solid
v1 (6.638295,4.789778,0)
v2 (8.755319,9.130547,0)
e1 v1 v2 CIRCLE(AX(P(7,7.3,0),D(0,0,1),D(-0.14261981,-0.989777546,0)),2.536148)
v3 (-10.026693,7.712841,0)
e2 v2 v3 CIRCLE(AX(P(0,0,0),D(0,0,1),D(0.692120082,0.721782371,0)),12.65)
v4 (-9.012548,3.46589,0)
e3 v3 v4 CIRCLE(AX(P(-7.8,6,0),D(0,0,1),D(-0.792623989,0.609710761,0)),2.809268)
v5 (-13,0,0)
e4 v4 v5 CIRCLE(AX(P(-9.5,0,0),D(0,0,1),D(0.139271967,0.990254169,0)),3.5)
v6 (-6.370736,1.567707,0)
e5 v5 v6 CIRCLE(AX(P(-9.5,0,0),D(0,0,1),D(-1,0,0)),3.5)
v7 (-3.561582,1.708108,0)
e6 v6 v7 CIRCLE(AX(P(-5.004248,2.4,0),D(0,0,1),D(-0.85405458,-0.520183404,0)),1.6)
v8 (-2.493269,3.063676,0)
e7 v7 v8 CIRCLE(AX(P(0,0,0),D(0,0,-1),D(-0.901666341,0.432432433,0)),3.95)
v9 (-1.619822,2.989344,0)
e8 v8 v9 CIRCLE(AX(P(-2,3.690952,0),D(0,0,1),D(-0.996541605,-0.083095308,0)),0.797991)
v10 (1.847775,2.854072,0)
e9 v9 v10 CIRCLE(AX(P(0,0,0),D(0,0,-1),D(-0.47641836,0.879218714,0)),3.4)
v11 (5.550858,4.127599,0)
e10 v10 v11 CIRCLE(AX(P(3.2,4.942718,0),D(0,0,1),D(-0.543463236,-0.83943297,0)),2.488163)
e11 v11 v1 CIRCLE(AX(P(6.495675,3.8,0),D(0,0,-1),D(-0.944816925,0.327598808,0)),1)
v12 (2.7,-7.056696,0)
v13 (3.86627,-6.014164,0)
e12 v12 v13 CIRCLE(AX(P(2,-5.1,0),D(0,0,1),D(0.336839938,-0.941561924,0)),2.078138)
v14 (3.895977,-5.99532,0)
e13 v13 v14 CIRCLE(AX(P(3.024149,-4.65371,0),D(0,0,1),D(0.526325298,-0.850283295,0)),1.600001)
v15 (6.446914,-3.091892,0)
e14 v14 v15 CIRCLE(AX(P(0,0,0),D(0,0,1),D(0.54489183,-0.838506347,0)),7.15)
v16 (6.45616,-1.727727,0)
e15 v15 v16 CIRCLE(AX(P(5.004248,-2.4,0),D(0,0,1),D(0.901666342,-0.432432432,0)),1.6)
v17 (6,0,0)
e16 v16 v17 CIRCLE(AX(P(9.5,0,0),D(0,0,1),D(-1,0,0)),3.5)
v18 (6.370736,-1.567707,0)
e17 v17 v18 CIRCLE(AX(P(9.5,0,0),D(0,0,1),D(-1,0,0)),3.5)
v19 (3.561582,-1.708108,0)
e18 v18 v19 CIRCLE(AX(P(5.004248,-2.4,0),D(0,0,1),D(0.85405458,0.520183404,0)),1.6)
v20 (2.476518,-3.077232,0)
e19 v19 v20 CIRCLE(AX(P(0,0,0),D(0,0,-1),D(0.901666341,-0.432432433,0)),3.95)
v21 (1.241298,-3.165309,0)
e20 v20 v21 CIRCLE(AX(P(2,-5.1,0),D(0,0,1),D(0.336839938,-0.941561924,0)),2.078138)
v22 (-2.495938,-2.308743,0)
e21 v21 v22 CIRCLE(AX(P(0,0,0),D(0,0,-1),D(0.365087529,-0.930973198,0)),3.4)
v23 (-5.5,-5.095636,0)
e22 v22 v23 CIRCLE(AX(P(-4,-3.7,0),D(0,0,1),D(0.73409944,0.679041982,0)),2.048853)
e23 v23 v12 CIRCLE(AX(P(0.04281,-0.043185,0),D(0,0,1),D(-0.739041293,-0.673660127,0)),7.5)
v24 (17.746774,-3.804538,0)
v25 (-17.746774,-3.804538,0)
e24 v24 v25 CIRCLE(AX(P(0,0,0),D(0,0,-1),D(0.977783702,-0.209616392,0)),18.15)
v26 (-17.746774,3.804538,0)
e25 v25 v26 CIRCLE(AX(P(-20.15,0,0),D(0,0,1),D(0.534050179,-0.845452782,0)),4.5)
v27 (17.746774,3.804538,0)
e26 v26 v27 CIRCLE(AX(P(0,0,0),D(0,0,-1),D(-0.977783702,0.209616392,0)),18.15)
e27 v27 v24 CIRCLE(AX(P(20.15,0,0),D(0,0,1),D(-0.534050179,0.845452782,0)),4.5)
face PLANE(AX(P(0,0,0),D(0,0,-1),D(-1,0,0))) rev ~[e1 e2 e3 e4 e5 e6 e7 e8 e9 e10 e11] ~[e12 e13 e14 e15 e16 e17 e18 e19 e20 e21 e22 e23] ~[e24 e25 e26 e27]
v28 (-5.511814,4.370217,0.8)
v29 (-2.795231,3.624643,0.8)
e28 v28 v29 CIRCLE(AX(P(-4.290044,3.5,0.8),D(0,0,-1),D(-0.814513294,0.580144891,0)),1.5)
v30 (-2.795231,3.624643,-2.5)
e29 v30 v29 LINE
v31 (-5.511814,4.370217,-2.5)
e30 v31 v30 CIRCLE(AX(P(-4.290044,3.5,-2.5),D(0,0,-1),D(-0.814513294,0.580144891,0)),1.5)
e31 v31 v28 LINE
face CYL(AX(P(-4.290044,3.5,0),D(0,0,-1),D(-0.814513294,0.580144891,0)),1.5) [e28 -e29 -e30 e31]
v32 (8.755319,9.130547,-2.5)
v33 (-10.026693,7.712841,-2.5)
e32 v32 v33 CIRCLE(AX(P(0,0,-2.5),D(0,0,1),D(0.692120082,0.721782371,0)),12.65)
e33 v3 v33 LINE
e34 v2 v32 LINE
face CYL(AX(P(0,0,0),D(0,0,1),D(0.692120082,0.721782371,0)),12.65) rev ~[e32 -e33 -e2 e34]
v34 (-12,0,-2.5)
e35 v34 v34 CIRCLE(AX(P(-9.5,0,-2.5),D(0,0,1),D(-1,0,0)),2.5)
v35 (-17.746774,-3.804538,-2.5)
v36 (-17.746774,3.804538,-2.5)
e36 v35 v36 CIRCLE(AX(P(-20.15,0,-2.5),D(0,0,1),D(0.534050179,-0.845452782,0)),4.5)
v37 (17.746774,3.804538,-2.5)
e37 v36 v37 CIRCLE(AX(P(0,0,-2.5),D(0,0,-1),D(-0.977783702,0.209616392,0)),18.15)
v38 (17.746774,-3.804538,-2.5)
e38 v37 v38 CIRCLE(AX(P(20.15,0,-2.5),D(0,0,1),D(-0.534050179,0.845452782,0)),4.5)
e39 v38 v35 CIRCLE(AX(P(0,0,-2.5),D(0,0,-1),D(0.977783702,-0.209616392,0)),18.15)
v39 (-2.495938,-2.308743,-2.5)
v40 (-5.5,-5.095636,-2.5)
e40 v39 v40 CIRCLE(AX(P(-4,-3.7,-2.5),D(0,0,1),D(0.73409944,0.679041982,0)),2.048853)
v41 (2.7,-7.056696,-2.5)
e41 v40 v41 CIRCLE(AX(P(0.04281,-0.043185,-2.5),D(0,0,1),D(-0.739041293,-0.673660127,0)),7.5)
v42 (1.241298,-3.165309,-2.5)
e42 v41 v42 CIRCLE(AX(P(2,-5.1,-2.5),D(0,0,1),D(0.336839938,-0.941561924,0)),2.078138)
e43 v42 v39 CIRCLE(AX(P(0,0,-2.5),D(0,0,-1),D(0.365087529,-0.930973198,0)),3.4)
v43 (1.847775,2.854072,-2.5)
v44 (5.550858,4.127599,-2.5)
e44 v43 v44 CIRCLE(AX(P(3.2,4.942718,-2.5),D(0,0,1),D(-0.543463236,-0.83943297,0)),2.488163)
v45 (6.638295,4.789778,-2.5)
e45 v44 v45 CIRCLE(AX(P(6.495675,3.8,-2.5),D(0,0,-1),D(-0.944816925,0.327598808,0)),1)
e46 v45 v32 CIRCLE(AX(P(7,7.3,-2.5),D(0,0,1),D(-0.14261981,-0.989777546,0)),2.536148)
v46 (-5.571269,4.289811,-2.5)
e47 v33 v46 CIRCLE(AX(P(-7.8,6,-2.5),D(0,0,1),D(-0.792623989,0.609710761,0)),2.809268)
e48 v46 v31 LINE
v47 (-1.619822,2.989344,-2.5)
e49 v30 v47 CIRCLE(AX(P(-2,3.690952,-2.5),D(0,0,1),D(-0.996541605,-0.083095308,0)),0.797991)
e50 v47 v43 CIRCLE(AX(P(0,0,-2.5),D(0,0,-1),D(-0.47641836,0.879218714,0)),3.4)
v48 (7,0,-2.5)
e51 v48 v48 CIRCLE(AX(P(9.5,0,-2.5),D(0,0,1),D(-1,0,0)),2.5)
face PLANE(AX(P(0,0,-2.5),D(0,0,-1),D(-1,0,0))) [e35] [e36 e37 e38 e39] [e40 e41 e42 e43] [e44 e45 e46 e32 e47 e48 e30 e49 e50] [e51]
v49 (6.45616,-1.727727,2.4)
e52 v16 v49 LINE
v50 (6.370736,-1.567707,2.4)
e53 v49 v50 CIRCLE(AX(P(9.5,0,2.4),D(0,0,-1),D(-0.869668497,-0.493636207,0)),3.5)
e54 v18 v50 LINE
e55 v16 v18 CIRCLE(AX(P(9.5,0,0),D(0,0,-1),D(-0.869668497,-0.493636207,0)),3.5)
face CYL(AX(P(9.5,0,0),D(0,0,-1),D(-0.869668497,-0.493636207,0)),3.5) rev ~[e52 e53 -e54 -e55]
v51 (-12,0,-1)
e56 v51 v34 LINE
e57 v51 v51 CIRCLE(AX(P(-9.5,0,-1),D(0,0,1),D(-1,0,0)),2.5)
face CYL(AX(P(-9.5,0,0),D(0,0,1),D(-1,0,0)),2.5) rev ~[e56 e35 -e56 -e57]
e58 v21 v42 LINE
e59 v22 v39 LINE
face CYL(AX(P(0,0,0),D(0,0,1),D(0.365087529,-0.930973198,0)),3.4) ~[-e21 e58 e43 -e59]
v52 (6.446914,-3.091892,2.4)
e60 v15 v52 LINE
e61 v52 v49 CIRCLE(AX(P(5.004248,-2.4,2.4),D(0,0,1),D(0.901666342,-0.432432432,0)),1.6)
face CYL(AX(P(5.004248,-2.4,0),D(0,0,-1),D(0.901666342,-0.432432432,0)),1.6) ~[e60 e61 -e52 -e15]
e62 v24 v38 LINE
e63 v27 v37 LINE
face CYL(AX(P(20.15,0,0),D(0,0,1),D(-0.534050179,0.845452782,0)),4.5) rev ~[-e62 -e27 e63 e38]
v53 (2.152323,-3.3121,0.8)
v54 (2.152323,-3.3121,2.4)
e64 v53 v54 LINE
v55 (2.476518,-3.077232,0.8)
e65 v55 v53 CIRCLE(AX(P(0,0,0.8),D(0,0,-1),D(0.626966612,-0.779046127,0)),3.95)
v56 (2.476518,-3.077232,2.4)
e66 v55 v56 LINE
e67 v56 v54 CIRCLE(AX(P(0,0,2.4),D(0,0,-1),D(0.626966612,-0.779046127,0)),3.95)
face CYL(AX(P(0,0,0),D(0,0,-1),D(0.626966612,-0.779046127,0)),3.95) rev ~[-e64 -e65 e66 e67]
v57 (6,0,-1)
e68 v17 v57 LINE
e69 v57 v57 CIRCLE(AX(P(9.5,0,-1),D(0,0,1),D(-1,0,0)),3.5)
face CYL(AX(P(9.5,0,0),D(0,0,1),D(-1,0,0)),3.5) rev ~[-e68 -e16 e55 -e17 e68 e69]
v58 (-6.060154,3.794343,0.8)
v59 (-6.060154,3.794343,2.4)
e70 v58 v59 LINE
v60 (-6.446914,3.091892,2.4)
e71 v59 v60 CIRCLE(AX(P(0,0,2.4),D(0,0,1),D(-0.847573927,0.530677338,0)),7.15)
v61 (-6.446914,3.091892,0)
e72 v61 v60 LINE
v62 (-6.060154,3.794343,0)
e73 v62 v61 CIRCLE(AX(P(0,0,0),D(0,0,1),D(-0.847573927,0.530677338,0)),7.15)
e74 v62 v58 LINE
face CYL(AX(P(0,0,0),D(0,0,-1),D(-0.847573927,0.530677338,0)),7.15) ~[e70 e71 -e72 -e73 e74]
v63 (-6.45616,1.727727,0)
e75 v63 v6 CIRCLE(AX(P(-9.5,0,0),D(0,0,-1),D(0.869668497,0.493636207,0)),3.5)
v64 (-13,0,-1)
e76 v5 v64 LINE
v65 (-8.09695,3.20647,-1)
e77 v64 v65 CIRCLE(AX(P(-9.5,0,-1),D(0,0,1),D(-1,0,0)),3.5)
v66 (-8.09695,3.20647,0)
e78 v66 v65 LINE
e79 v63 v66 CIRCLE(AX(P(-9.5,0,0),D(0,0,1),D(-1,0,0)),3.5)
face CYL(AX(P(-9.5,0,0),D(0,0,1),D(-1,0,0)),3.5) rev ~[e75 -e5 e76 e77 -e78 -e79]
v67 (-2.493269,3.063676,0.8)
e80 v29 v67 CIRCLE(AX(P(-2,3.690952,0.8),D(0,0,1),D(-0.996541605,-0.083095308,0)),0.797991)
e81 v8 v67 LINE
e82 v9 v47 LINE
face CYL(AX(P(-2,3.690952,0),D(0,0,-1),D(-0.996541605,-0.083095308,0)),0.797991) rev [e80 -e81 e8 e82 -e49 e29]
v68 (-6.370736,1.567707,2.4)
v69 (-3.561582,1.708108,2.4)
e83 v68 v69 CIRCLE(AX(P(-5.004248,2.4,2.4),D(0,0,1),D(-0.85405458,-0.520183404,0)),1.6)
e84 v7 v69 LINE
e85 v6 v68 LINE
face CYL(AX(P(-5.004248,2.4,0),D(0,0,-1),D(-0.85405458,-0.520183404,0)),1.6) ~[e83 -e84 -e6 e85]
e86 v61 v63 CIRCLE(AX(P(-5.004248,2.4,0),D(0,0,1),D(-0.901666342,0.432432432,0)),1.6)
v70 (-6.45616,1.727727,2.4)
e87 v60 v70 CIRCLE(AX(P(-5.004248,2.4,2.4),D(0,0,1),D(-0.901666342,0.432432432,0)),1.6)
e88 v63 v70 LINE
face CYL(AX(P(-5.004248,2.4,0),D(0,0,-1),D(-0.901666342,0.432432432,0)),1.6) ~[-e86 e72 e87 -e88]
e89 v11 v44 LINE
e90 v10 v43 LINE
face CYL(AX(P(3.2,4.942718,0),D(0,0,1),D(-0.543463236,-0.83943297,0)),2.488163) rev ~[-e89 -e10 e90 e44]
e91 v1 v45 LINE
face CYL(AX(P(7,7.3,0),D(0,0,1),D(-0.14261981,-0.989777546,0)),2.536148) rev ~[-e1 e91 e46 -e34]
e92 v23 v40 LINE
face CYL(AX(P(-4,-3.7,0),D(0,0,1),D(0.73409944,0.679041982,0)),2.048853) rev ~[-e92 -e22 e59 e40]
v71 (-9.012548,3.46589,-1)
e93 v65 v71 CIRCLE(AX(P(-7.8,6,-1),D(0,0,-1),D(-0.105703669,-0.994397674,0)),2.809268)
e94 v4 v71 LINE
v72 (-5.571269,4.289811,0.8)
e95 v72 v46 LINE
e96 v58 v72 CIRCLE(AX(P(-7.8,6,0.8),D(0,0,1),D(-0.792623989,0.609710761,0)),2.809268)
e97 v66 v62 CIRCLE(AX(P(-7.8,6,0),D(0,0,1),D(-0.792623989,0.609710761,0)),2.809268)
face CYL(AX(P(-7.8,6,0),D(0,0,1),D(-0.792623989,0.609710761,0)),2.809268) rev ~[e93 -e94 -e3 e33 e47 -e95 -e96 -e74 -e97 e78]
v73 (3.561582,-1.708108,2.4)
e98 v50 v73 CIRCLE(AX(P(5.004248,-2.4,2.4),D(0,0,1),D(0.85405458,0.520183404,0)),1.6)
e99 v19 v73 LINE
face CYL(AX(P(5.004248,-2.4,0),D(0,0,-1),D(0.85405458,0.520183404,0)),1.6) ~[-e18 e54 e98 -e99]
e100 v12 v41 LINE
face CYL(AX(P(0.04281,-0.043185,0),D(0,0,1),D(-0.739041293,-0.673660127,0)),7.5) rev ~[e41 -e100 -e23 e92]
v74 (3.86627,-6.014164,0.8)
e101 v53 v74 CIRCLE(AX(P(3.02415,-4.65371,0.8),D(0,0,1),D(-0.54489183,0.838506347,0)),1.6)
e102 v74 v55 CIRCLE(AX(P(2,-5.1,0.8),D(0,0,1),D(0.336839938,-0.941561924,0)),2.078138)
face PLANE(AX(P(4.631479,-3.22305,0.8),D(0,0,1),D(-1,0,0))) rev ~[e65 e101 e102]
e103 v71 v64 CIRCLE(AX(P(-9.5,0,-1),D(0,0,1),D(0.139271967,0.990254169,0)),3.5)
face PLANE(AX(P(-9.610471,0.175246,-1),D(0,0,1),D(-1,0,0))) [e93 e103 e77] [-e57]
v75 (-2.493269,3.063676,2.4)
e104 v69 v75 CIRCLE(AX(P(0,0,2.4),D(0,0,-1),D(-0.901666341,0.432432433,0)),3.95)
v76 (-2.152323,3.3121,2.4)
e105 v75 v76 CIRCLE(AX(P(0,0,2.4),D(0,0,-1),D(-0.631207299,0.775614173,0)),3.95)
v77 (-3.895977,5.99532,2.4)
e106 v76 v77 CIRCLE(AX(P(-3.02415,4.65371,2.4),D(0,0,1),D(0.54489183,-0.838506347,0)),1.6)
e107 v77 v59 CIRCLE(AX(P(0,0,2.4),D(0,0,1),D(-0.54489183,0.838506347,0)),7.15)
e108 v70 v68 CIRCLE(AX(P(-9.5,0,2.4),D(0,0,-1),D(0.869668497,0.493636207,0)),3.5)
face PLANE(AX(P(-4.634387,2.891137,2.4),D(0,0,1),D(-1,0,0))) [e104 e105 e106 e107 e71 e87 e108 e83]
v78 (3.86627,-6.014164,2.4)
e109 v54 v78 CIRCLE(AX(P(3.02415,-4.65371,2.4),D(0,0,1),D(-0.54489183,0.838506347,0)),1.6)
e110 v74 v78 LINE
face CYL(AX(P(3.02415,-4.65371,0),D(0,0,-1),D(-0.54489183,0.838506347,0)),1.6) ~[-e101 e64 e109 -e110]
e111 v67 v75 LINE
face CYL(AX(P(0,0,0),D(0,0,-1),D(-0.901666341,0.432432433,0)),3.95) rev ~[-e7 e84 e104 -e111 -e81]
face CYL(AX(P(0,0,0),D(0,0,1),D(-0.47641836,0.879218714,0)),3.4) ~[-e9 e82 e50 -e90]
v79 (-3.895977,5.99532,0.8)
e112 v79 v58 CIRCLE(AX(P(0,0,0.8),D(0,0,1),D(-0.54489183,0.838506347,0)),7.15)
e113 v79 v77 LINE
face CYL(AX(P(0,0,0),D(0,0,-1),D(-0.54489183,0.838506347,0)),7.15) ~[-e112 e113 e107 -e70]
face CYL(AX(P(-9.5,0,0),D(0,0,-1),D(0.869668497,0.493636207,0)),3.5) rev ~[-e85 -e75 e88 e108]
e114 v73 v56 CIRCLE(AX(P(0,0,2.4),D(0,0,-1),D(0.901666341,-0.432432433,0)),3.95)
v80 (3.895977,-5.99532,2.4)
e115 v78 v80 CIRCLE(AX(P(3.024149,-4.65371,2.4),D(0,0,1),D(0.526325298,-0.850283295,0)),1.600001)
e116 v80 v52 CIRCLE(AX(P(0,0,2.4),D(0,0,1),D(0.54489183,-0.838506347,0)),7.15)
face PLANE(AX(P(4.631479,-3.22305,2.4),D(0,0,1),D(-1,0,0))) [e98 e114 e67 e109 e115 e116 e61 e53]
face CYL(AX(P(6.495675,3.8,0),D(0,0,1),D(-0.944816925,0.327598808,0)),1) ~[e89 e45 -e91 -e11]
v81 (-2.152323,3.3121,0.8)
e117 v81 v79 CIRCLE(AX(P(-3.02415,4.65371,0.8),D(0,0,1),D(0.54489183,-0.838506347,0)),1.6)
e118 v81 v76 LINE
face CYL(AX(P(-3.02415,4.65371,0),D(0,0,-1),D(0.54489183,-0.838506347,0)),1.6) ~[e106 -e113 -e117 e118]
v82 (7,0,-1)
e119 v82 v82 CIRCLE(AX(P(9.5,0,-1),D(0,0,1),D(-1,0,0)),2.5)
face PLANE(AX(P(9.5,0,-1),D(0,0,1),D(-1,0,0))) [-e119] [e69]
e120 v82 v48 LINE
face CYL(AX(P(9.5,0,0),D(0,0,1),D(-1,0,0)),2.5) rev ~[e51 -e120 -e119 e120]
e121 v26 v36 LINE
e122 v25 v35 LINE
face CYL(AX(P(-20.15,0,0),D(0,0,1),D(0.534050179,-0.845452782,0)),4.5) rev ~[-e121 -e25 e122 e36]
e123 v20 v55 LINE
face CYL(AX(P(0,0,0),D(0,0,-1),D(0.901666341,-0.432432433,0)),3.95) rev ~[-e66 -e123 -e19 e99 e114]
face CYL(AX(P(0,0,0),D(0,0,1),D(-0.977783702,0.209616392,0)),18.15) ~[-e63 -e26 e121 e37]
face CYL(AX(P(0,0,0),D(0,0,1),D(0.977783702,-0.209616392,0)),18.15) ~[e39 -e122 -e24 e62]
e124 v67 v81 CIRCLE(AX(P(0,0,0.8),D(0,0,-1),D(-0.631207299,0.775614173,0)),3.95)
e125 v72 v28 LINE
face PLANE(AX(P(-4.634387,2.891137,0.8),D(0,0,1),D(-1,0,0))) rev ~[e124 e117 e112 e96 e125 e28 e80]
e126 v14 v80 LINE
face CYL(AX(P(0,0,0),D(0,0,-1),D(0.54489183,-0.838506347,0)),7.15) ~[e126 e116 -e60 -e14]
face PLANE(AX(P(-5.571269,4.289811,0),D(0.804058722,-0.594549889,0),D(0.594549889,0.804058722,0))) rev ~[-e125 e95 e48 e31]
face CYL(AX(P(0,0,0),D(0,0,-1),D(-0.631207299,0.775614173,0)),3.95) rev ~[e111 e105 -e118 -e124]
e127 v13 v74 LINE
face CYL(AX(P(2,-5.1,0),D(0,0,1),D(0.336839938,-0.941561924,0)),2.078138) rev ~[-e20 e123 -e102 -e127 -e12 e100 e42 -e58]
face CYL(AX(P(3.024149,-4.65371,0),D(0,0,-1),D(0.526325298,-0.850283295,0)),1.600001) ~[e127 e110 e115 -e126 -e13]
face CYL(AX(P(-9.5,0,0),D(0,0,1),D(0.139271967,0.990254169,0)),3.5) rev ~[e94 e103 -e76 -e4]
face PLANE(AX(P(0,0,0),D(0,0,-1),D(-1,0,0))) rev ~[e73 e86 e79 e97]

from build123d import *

# Parameters (mm, degrees)
F1_DEPTH = 2.5
F2_R     = 2.5
F2_R_2   = 3.5
F3_DEPTH = 1
F4_DEPTH = 25
F6_DEPTH = 2.4
F7_DEPTH = 0.8
F8_ANGLE = 180


with BuildPart() as f1:
    # F0 (on Top) → F1 (new body)
    with BuildSketch(Plane.XY):
        with BuildLine():
            ThreePointArc((-17.7467741935, 3.8045375176), (-15.65, 0), (-17.7467741935, -3.8045375176))
            ThreePointArc((-17.7467741935, -3.8045375176), (0, -18.15), (17.7467741935, -3.8045375176))
            ThreePointArc((17.7467741935, -3.8045375176), (15.65, 0), (17.7467741935, 3.8045375176))
            ThreePointArc((17.7467741935, 3.8045375176), (0, 18.15), (-17.7467741935, 3.8045375176))
        make_face()
        with BuildLine():
            ThreePointArc((2.4959380946, -2.3087427375), (5.3934479575, -2.1979674519), (5.5, -5.0956356923))
            ThreePointArc((5.5, -5.0956356923), (1.7016498657, -7.3374880505), (-2.7, -7.0566959612))
            ThreePointArc((-2.7, -7.0566959612), (-3.9459149151, -4.3705658168), (-1.241297598, -3.1653088749))
            ThreePointArc((-1.241297598, -3.1653088749), (0.7595769091, -3.3140674283), (2.4959380946, -2.3087427375))
        make_face(mode=Mode.SUBTRACT)
        with BuildLine():
            ThreePointArc((-8.7553190403, 9.1305469991), (0.952140072, 12.6141162704), (10.0266934622, 7.7128411247))
            ThreePointArc((10.0266934622, 7.7128411247), (9.5115151335, 3.7722871727), (5.5712685972, 4.2898114644))
            Line((5.5712685972, 4.2898114644), (5.5118136083, 4.3702173366))
            ThreePointArc((5.5118136083, 4.3702173366), (3.8930445069, 4.946510168), (2.7952312611, 3.6246429626))
            ThreePointArc((2.7952312611, 3.6246429626), (2.3794320778, 2.9889401783), (1.6198224227, 2.9893436268))
            ThreePointArc((1.6198224227, 2.9893436268), (-0.1325337371, 3.3974159016), (-1.8477750037, 2.8540720972))
            ThreePointArc((-1.8477750037, 2.8540720972), (-4.009187674, 2.5898113989), (-5.5508583046, 4.1275988078))
            ThreePointArc((-5.5508583046, 4.1275988078), (-5.9755788699, 4.654107591), (-6.6382950389, 4.7897775457))
            ThreePointArc((-6.6382950389, 4.7897775457), (-9.2794977325, 6.1882728138), (-8.7553190403, 9.1305469991))
        make_face(mode=Mode.SUBTRACT)
    extrude(amount=F1_DEPTH)

    # F2 (on face) → F3 (cut)
    with BuildSketch(Plane(origin=(0, 0, 0), x_dir=(1, 0, 0), z_dir=(0, 0, -1))):
        with BuildLine():
            ThreePointArc((9.0125481144, -3.4658895913), (11.7960747375, -2.6415981526), (13, 0))
            ThreePointArc((13, 0), (7.5843636972, 2.9292213224), (8.0969499684, -3.2064701166))
            ThreePointArc((8.0969499684, -3.2064701166), (8.5658137707, -3.297127868), (9.0125481144, -3.4658895913))
        make_face()
        with Locations((9.5, 0)):
            Circle(F2_R, mode=Mode.SUBTRACT)
        with Locations((-9.5, 0)):
            Circle(F2_R_2)
        with Locations((-9.5, 0)):
            Circle(F2_R, mode=Mode.SUBTRACT)
    extrude(amount=-F3_DEPTH, mode=Mode.SUBTRACT)

    # F2 (on face) → F4 (cut)
    with BuildSketch(Plane(origin=(0, 0, 0), x_dir=(1, 0, 0), z_dir=(0, 0, -1))):
        with Locations((9.5, 0)):
            Circle(F2_R)
        with Locations((-9.5, 0)):
            Circle(F2_R)
    extrude(amount=-F4_DEPTH, mode=Mode.SUBTRACT)

    # F5 (on face) → F6 (join)
    with BuildSketch(Plane(origin=(0, 0, 0), x_dir=(1, 0, 0), z_dir=(0, 0, -1))):
        with BuildLine():
            ThreePointArc((6.0601535804, -3.7943429711), (6.2633893685, -3.4485436953), (6.4469143417, -3.0918918919))
            ThreePointArc((6.4469143417, -3.0918918919), (6.6042114466, -2.4108440907), (6.4561602608, -1.7277267266))
            ThreePointArc((6.4561602608, -1.7277267266), (6.4124110495, -1.6482701455), (6.3707355238, -1.5677065536))
            ThreePointArc((6.3707355238, -1.5677065536), (4.9243798524, -0.8019946659), (3.5615820489, -1.7081081081))
            ThreePointArc((3.5615820489, -1.7081081081), (3.1023693948, -2.4449548335), (2.4932688314, -3.0636759839))
            ThreePointArc((2.4932688314, -3.0636759839), (2.7026586012, -3.3127187828), (2.7952312611, -3.6246429626))
            ThreePointArc((2.7952312611, -3.6246429626), (3.8930445069, -4.946510168), (5.5118136083, -4.3702173366))
            Line((5.5118136083, -4.3702173366), (5.5712685972, -4.2898114644))
            ThreePointArc((5.5712685972, -4.2898114644), (5.8003063385, -4.0268771571), (6.0601535804, -3.7943429711))
        make_face()
        with BuildLine():
            ThreePointArc((3.8959765845, -5.9953203795), (5.0982553244, -5.0130123326), (6.0601535804, -3.7943429711))
            ThreePointArc((6.0601535804, -3.7943429711), (5.8003063385, -4.0268771571), (5.5712685972, -4.2898114644))
            Line((5.5712685972, -4.2898114644), (5.5118136083, -4.3702173366))
            ThreePointArc((5.5118136083, -4.3702173366), (3.8930445069, -4.946510168), (2.7952312611, -3.6246429626))
            ThreePointArc((2.7952312611, -3.6246429626), (2.7026586012, -3.3127187828), (2.4932688314, -3.0636759839))
            ThreePointArc((2.4932688314, -3.0636759839), (2.3261145429, -3.192442816), (2.1523227285, -3.3121000698))
            ThreePointArc((2.1523227285, -3.3121000698), (1.6825395016, -5.5255371527), (3.8959765845, -5.9953203795))
        make_face()
        with BuildLine():
            ThreePointArc((-3.8662701246, 6.0141635011), (-3.8811751433, 6.0048235859), (-3.8959765845, 5.9953203795))
            ThreePointArc((-3.8959765845, 5.9953203795), (-5.3713427021, 4.7192348508), (-6.4469143417, 3.0918918919))
            ThreePointArc((-6.4469143417, 3.0918918919), (-6.6042114466, 2.4108440907), (-6.4561602608, 1.7277267266))
            ThreePointArc((-6.4561602608, 1.7277267266), (-6.4124110495, 1.6482701455), (-6.3707355238, 1.5677065536))
            ThreePointArc((-6.3707355238, 1.5677065536), (-4.9243798524, 0.8019946659), (-3.5615820489, 1.7081081081))
            ThreePointArc((-3.5615820489, 1.7081081081), (-3.0956887113, 2.4534081198), (-2.4765181166, 3.0772322009))
            ThreePointArc((-2.4765181166, 3.0772322009), (-3.8784449822, 4.2111223181), (-3.8662701246, 6.0141635011))
        make_face()
        with BuildLine():
            ThreePointArc((-2.1523227285, 3.3121000698), (-1.6730362952, 5.5107357114), (-3.8662701246, 6.0141635011))
            ThreePointArc((-3.8662701246, 6.0141635011), (-3.8784449822, 4.2111223181), (-2.4765181166, 3.0772322009))
            ThreePointArc((-2.4765181166, 3.0772322009), (-2.3173978125, 3.1987759188), (-2.1523227285, 3.3121000698))
        make_face()
    extrude(amount=F6_DEPTH)

    # F7 (cut): faces of the model
    f7_faces = [f1.faces().sort_by_distance(p)[0] for p in [
        (2.880203055, 4.9455389585, 0),
        (-2.7641546482, -4.7635377555, 0),
    ]]
    extrude(f7_faces, amount=-F7_DEPTH, mode=Mode.SUBTRACT)


with BuildPart() as f1_1:
    # F8: moved
    add(f1.part.rotate(Axis((0, 0, 0), (0, -1, 0)), F8_ANGLE))


solid = f1_1.part
